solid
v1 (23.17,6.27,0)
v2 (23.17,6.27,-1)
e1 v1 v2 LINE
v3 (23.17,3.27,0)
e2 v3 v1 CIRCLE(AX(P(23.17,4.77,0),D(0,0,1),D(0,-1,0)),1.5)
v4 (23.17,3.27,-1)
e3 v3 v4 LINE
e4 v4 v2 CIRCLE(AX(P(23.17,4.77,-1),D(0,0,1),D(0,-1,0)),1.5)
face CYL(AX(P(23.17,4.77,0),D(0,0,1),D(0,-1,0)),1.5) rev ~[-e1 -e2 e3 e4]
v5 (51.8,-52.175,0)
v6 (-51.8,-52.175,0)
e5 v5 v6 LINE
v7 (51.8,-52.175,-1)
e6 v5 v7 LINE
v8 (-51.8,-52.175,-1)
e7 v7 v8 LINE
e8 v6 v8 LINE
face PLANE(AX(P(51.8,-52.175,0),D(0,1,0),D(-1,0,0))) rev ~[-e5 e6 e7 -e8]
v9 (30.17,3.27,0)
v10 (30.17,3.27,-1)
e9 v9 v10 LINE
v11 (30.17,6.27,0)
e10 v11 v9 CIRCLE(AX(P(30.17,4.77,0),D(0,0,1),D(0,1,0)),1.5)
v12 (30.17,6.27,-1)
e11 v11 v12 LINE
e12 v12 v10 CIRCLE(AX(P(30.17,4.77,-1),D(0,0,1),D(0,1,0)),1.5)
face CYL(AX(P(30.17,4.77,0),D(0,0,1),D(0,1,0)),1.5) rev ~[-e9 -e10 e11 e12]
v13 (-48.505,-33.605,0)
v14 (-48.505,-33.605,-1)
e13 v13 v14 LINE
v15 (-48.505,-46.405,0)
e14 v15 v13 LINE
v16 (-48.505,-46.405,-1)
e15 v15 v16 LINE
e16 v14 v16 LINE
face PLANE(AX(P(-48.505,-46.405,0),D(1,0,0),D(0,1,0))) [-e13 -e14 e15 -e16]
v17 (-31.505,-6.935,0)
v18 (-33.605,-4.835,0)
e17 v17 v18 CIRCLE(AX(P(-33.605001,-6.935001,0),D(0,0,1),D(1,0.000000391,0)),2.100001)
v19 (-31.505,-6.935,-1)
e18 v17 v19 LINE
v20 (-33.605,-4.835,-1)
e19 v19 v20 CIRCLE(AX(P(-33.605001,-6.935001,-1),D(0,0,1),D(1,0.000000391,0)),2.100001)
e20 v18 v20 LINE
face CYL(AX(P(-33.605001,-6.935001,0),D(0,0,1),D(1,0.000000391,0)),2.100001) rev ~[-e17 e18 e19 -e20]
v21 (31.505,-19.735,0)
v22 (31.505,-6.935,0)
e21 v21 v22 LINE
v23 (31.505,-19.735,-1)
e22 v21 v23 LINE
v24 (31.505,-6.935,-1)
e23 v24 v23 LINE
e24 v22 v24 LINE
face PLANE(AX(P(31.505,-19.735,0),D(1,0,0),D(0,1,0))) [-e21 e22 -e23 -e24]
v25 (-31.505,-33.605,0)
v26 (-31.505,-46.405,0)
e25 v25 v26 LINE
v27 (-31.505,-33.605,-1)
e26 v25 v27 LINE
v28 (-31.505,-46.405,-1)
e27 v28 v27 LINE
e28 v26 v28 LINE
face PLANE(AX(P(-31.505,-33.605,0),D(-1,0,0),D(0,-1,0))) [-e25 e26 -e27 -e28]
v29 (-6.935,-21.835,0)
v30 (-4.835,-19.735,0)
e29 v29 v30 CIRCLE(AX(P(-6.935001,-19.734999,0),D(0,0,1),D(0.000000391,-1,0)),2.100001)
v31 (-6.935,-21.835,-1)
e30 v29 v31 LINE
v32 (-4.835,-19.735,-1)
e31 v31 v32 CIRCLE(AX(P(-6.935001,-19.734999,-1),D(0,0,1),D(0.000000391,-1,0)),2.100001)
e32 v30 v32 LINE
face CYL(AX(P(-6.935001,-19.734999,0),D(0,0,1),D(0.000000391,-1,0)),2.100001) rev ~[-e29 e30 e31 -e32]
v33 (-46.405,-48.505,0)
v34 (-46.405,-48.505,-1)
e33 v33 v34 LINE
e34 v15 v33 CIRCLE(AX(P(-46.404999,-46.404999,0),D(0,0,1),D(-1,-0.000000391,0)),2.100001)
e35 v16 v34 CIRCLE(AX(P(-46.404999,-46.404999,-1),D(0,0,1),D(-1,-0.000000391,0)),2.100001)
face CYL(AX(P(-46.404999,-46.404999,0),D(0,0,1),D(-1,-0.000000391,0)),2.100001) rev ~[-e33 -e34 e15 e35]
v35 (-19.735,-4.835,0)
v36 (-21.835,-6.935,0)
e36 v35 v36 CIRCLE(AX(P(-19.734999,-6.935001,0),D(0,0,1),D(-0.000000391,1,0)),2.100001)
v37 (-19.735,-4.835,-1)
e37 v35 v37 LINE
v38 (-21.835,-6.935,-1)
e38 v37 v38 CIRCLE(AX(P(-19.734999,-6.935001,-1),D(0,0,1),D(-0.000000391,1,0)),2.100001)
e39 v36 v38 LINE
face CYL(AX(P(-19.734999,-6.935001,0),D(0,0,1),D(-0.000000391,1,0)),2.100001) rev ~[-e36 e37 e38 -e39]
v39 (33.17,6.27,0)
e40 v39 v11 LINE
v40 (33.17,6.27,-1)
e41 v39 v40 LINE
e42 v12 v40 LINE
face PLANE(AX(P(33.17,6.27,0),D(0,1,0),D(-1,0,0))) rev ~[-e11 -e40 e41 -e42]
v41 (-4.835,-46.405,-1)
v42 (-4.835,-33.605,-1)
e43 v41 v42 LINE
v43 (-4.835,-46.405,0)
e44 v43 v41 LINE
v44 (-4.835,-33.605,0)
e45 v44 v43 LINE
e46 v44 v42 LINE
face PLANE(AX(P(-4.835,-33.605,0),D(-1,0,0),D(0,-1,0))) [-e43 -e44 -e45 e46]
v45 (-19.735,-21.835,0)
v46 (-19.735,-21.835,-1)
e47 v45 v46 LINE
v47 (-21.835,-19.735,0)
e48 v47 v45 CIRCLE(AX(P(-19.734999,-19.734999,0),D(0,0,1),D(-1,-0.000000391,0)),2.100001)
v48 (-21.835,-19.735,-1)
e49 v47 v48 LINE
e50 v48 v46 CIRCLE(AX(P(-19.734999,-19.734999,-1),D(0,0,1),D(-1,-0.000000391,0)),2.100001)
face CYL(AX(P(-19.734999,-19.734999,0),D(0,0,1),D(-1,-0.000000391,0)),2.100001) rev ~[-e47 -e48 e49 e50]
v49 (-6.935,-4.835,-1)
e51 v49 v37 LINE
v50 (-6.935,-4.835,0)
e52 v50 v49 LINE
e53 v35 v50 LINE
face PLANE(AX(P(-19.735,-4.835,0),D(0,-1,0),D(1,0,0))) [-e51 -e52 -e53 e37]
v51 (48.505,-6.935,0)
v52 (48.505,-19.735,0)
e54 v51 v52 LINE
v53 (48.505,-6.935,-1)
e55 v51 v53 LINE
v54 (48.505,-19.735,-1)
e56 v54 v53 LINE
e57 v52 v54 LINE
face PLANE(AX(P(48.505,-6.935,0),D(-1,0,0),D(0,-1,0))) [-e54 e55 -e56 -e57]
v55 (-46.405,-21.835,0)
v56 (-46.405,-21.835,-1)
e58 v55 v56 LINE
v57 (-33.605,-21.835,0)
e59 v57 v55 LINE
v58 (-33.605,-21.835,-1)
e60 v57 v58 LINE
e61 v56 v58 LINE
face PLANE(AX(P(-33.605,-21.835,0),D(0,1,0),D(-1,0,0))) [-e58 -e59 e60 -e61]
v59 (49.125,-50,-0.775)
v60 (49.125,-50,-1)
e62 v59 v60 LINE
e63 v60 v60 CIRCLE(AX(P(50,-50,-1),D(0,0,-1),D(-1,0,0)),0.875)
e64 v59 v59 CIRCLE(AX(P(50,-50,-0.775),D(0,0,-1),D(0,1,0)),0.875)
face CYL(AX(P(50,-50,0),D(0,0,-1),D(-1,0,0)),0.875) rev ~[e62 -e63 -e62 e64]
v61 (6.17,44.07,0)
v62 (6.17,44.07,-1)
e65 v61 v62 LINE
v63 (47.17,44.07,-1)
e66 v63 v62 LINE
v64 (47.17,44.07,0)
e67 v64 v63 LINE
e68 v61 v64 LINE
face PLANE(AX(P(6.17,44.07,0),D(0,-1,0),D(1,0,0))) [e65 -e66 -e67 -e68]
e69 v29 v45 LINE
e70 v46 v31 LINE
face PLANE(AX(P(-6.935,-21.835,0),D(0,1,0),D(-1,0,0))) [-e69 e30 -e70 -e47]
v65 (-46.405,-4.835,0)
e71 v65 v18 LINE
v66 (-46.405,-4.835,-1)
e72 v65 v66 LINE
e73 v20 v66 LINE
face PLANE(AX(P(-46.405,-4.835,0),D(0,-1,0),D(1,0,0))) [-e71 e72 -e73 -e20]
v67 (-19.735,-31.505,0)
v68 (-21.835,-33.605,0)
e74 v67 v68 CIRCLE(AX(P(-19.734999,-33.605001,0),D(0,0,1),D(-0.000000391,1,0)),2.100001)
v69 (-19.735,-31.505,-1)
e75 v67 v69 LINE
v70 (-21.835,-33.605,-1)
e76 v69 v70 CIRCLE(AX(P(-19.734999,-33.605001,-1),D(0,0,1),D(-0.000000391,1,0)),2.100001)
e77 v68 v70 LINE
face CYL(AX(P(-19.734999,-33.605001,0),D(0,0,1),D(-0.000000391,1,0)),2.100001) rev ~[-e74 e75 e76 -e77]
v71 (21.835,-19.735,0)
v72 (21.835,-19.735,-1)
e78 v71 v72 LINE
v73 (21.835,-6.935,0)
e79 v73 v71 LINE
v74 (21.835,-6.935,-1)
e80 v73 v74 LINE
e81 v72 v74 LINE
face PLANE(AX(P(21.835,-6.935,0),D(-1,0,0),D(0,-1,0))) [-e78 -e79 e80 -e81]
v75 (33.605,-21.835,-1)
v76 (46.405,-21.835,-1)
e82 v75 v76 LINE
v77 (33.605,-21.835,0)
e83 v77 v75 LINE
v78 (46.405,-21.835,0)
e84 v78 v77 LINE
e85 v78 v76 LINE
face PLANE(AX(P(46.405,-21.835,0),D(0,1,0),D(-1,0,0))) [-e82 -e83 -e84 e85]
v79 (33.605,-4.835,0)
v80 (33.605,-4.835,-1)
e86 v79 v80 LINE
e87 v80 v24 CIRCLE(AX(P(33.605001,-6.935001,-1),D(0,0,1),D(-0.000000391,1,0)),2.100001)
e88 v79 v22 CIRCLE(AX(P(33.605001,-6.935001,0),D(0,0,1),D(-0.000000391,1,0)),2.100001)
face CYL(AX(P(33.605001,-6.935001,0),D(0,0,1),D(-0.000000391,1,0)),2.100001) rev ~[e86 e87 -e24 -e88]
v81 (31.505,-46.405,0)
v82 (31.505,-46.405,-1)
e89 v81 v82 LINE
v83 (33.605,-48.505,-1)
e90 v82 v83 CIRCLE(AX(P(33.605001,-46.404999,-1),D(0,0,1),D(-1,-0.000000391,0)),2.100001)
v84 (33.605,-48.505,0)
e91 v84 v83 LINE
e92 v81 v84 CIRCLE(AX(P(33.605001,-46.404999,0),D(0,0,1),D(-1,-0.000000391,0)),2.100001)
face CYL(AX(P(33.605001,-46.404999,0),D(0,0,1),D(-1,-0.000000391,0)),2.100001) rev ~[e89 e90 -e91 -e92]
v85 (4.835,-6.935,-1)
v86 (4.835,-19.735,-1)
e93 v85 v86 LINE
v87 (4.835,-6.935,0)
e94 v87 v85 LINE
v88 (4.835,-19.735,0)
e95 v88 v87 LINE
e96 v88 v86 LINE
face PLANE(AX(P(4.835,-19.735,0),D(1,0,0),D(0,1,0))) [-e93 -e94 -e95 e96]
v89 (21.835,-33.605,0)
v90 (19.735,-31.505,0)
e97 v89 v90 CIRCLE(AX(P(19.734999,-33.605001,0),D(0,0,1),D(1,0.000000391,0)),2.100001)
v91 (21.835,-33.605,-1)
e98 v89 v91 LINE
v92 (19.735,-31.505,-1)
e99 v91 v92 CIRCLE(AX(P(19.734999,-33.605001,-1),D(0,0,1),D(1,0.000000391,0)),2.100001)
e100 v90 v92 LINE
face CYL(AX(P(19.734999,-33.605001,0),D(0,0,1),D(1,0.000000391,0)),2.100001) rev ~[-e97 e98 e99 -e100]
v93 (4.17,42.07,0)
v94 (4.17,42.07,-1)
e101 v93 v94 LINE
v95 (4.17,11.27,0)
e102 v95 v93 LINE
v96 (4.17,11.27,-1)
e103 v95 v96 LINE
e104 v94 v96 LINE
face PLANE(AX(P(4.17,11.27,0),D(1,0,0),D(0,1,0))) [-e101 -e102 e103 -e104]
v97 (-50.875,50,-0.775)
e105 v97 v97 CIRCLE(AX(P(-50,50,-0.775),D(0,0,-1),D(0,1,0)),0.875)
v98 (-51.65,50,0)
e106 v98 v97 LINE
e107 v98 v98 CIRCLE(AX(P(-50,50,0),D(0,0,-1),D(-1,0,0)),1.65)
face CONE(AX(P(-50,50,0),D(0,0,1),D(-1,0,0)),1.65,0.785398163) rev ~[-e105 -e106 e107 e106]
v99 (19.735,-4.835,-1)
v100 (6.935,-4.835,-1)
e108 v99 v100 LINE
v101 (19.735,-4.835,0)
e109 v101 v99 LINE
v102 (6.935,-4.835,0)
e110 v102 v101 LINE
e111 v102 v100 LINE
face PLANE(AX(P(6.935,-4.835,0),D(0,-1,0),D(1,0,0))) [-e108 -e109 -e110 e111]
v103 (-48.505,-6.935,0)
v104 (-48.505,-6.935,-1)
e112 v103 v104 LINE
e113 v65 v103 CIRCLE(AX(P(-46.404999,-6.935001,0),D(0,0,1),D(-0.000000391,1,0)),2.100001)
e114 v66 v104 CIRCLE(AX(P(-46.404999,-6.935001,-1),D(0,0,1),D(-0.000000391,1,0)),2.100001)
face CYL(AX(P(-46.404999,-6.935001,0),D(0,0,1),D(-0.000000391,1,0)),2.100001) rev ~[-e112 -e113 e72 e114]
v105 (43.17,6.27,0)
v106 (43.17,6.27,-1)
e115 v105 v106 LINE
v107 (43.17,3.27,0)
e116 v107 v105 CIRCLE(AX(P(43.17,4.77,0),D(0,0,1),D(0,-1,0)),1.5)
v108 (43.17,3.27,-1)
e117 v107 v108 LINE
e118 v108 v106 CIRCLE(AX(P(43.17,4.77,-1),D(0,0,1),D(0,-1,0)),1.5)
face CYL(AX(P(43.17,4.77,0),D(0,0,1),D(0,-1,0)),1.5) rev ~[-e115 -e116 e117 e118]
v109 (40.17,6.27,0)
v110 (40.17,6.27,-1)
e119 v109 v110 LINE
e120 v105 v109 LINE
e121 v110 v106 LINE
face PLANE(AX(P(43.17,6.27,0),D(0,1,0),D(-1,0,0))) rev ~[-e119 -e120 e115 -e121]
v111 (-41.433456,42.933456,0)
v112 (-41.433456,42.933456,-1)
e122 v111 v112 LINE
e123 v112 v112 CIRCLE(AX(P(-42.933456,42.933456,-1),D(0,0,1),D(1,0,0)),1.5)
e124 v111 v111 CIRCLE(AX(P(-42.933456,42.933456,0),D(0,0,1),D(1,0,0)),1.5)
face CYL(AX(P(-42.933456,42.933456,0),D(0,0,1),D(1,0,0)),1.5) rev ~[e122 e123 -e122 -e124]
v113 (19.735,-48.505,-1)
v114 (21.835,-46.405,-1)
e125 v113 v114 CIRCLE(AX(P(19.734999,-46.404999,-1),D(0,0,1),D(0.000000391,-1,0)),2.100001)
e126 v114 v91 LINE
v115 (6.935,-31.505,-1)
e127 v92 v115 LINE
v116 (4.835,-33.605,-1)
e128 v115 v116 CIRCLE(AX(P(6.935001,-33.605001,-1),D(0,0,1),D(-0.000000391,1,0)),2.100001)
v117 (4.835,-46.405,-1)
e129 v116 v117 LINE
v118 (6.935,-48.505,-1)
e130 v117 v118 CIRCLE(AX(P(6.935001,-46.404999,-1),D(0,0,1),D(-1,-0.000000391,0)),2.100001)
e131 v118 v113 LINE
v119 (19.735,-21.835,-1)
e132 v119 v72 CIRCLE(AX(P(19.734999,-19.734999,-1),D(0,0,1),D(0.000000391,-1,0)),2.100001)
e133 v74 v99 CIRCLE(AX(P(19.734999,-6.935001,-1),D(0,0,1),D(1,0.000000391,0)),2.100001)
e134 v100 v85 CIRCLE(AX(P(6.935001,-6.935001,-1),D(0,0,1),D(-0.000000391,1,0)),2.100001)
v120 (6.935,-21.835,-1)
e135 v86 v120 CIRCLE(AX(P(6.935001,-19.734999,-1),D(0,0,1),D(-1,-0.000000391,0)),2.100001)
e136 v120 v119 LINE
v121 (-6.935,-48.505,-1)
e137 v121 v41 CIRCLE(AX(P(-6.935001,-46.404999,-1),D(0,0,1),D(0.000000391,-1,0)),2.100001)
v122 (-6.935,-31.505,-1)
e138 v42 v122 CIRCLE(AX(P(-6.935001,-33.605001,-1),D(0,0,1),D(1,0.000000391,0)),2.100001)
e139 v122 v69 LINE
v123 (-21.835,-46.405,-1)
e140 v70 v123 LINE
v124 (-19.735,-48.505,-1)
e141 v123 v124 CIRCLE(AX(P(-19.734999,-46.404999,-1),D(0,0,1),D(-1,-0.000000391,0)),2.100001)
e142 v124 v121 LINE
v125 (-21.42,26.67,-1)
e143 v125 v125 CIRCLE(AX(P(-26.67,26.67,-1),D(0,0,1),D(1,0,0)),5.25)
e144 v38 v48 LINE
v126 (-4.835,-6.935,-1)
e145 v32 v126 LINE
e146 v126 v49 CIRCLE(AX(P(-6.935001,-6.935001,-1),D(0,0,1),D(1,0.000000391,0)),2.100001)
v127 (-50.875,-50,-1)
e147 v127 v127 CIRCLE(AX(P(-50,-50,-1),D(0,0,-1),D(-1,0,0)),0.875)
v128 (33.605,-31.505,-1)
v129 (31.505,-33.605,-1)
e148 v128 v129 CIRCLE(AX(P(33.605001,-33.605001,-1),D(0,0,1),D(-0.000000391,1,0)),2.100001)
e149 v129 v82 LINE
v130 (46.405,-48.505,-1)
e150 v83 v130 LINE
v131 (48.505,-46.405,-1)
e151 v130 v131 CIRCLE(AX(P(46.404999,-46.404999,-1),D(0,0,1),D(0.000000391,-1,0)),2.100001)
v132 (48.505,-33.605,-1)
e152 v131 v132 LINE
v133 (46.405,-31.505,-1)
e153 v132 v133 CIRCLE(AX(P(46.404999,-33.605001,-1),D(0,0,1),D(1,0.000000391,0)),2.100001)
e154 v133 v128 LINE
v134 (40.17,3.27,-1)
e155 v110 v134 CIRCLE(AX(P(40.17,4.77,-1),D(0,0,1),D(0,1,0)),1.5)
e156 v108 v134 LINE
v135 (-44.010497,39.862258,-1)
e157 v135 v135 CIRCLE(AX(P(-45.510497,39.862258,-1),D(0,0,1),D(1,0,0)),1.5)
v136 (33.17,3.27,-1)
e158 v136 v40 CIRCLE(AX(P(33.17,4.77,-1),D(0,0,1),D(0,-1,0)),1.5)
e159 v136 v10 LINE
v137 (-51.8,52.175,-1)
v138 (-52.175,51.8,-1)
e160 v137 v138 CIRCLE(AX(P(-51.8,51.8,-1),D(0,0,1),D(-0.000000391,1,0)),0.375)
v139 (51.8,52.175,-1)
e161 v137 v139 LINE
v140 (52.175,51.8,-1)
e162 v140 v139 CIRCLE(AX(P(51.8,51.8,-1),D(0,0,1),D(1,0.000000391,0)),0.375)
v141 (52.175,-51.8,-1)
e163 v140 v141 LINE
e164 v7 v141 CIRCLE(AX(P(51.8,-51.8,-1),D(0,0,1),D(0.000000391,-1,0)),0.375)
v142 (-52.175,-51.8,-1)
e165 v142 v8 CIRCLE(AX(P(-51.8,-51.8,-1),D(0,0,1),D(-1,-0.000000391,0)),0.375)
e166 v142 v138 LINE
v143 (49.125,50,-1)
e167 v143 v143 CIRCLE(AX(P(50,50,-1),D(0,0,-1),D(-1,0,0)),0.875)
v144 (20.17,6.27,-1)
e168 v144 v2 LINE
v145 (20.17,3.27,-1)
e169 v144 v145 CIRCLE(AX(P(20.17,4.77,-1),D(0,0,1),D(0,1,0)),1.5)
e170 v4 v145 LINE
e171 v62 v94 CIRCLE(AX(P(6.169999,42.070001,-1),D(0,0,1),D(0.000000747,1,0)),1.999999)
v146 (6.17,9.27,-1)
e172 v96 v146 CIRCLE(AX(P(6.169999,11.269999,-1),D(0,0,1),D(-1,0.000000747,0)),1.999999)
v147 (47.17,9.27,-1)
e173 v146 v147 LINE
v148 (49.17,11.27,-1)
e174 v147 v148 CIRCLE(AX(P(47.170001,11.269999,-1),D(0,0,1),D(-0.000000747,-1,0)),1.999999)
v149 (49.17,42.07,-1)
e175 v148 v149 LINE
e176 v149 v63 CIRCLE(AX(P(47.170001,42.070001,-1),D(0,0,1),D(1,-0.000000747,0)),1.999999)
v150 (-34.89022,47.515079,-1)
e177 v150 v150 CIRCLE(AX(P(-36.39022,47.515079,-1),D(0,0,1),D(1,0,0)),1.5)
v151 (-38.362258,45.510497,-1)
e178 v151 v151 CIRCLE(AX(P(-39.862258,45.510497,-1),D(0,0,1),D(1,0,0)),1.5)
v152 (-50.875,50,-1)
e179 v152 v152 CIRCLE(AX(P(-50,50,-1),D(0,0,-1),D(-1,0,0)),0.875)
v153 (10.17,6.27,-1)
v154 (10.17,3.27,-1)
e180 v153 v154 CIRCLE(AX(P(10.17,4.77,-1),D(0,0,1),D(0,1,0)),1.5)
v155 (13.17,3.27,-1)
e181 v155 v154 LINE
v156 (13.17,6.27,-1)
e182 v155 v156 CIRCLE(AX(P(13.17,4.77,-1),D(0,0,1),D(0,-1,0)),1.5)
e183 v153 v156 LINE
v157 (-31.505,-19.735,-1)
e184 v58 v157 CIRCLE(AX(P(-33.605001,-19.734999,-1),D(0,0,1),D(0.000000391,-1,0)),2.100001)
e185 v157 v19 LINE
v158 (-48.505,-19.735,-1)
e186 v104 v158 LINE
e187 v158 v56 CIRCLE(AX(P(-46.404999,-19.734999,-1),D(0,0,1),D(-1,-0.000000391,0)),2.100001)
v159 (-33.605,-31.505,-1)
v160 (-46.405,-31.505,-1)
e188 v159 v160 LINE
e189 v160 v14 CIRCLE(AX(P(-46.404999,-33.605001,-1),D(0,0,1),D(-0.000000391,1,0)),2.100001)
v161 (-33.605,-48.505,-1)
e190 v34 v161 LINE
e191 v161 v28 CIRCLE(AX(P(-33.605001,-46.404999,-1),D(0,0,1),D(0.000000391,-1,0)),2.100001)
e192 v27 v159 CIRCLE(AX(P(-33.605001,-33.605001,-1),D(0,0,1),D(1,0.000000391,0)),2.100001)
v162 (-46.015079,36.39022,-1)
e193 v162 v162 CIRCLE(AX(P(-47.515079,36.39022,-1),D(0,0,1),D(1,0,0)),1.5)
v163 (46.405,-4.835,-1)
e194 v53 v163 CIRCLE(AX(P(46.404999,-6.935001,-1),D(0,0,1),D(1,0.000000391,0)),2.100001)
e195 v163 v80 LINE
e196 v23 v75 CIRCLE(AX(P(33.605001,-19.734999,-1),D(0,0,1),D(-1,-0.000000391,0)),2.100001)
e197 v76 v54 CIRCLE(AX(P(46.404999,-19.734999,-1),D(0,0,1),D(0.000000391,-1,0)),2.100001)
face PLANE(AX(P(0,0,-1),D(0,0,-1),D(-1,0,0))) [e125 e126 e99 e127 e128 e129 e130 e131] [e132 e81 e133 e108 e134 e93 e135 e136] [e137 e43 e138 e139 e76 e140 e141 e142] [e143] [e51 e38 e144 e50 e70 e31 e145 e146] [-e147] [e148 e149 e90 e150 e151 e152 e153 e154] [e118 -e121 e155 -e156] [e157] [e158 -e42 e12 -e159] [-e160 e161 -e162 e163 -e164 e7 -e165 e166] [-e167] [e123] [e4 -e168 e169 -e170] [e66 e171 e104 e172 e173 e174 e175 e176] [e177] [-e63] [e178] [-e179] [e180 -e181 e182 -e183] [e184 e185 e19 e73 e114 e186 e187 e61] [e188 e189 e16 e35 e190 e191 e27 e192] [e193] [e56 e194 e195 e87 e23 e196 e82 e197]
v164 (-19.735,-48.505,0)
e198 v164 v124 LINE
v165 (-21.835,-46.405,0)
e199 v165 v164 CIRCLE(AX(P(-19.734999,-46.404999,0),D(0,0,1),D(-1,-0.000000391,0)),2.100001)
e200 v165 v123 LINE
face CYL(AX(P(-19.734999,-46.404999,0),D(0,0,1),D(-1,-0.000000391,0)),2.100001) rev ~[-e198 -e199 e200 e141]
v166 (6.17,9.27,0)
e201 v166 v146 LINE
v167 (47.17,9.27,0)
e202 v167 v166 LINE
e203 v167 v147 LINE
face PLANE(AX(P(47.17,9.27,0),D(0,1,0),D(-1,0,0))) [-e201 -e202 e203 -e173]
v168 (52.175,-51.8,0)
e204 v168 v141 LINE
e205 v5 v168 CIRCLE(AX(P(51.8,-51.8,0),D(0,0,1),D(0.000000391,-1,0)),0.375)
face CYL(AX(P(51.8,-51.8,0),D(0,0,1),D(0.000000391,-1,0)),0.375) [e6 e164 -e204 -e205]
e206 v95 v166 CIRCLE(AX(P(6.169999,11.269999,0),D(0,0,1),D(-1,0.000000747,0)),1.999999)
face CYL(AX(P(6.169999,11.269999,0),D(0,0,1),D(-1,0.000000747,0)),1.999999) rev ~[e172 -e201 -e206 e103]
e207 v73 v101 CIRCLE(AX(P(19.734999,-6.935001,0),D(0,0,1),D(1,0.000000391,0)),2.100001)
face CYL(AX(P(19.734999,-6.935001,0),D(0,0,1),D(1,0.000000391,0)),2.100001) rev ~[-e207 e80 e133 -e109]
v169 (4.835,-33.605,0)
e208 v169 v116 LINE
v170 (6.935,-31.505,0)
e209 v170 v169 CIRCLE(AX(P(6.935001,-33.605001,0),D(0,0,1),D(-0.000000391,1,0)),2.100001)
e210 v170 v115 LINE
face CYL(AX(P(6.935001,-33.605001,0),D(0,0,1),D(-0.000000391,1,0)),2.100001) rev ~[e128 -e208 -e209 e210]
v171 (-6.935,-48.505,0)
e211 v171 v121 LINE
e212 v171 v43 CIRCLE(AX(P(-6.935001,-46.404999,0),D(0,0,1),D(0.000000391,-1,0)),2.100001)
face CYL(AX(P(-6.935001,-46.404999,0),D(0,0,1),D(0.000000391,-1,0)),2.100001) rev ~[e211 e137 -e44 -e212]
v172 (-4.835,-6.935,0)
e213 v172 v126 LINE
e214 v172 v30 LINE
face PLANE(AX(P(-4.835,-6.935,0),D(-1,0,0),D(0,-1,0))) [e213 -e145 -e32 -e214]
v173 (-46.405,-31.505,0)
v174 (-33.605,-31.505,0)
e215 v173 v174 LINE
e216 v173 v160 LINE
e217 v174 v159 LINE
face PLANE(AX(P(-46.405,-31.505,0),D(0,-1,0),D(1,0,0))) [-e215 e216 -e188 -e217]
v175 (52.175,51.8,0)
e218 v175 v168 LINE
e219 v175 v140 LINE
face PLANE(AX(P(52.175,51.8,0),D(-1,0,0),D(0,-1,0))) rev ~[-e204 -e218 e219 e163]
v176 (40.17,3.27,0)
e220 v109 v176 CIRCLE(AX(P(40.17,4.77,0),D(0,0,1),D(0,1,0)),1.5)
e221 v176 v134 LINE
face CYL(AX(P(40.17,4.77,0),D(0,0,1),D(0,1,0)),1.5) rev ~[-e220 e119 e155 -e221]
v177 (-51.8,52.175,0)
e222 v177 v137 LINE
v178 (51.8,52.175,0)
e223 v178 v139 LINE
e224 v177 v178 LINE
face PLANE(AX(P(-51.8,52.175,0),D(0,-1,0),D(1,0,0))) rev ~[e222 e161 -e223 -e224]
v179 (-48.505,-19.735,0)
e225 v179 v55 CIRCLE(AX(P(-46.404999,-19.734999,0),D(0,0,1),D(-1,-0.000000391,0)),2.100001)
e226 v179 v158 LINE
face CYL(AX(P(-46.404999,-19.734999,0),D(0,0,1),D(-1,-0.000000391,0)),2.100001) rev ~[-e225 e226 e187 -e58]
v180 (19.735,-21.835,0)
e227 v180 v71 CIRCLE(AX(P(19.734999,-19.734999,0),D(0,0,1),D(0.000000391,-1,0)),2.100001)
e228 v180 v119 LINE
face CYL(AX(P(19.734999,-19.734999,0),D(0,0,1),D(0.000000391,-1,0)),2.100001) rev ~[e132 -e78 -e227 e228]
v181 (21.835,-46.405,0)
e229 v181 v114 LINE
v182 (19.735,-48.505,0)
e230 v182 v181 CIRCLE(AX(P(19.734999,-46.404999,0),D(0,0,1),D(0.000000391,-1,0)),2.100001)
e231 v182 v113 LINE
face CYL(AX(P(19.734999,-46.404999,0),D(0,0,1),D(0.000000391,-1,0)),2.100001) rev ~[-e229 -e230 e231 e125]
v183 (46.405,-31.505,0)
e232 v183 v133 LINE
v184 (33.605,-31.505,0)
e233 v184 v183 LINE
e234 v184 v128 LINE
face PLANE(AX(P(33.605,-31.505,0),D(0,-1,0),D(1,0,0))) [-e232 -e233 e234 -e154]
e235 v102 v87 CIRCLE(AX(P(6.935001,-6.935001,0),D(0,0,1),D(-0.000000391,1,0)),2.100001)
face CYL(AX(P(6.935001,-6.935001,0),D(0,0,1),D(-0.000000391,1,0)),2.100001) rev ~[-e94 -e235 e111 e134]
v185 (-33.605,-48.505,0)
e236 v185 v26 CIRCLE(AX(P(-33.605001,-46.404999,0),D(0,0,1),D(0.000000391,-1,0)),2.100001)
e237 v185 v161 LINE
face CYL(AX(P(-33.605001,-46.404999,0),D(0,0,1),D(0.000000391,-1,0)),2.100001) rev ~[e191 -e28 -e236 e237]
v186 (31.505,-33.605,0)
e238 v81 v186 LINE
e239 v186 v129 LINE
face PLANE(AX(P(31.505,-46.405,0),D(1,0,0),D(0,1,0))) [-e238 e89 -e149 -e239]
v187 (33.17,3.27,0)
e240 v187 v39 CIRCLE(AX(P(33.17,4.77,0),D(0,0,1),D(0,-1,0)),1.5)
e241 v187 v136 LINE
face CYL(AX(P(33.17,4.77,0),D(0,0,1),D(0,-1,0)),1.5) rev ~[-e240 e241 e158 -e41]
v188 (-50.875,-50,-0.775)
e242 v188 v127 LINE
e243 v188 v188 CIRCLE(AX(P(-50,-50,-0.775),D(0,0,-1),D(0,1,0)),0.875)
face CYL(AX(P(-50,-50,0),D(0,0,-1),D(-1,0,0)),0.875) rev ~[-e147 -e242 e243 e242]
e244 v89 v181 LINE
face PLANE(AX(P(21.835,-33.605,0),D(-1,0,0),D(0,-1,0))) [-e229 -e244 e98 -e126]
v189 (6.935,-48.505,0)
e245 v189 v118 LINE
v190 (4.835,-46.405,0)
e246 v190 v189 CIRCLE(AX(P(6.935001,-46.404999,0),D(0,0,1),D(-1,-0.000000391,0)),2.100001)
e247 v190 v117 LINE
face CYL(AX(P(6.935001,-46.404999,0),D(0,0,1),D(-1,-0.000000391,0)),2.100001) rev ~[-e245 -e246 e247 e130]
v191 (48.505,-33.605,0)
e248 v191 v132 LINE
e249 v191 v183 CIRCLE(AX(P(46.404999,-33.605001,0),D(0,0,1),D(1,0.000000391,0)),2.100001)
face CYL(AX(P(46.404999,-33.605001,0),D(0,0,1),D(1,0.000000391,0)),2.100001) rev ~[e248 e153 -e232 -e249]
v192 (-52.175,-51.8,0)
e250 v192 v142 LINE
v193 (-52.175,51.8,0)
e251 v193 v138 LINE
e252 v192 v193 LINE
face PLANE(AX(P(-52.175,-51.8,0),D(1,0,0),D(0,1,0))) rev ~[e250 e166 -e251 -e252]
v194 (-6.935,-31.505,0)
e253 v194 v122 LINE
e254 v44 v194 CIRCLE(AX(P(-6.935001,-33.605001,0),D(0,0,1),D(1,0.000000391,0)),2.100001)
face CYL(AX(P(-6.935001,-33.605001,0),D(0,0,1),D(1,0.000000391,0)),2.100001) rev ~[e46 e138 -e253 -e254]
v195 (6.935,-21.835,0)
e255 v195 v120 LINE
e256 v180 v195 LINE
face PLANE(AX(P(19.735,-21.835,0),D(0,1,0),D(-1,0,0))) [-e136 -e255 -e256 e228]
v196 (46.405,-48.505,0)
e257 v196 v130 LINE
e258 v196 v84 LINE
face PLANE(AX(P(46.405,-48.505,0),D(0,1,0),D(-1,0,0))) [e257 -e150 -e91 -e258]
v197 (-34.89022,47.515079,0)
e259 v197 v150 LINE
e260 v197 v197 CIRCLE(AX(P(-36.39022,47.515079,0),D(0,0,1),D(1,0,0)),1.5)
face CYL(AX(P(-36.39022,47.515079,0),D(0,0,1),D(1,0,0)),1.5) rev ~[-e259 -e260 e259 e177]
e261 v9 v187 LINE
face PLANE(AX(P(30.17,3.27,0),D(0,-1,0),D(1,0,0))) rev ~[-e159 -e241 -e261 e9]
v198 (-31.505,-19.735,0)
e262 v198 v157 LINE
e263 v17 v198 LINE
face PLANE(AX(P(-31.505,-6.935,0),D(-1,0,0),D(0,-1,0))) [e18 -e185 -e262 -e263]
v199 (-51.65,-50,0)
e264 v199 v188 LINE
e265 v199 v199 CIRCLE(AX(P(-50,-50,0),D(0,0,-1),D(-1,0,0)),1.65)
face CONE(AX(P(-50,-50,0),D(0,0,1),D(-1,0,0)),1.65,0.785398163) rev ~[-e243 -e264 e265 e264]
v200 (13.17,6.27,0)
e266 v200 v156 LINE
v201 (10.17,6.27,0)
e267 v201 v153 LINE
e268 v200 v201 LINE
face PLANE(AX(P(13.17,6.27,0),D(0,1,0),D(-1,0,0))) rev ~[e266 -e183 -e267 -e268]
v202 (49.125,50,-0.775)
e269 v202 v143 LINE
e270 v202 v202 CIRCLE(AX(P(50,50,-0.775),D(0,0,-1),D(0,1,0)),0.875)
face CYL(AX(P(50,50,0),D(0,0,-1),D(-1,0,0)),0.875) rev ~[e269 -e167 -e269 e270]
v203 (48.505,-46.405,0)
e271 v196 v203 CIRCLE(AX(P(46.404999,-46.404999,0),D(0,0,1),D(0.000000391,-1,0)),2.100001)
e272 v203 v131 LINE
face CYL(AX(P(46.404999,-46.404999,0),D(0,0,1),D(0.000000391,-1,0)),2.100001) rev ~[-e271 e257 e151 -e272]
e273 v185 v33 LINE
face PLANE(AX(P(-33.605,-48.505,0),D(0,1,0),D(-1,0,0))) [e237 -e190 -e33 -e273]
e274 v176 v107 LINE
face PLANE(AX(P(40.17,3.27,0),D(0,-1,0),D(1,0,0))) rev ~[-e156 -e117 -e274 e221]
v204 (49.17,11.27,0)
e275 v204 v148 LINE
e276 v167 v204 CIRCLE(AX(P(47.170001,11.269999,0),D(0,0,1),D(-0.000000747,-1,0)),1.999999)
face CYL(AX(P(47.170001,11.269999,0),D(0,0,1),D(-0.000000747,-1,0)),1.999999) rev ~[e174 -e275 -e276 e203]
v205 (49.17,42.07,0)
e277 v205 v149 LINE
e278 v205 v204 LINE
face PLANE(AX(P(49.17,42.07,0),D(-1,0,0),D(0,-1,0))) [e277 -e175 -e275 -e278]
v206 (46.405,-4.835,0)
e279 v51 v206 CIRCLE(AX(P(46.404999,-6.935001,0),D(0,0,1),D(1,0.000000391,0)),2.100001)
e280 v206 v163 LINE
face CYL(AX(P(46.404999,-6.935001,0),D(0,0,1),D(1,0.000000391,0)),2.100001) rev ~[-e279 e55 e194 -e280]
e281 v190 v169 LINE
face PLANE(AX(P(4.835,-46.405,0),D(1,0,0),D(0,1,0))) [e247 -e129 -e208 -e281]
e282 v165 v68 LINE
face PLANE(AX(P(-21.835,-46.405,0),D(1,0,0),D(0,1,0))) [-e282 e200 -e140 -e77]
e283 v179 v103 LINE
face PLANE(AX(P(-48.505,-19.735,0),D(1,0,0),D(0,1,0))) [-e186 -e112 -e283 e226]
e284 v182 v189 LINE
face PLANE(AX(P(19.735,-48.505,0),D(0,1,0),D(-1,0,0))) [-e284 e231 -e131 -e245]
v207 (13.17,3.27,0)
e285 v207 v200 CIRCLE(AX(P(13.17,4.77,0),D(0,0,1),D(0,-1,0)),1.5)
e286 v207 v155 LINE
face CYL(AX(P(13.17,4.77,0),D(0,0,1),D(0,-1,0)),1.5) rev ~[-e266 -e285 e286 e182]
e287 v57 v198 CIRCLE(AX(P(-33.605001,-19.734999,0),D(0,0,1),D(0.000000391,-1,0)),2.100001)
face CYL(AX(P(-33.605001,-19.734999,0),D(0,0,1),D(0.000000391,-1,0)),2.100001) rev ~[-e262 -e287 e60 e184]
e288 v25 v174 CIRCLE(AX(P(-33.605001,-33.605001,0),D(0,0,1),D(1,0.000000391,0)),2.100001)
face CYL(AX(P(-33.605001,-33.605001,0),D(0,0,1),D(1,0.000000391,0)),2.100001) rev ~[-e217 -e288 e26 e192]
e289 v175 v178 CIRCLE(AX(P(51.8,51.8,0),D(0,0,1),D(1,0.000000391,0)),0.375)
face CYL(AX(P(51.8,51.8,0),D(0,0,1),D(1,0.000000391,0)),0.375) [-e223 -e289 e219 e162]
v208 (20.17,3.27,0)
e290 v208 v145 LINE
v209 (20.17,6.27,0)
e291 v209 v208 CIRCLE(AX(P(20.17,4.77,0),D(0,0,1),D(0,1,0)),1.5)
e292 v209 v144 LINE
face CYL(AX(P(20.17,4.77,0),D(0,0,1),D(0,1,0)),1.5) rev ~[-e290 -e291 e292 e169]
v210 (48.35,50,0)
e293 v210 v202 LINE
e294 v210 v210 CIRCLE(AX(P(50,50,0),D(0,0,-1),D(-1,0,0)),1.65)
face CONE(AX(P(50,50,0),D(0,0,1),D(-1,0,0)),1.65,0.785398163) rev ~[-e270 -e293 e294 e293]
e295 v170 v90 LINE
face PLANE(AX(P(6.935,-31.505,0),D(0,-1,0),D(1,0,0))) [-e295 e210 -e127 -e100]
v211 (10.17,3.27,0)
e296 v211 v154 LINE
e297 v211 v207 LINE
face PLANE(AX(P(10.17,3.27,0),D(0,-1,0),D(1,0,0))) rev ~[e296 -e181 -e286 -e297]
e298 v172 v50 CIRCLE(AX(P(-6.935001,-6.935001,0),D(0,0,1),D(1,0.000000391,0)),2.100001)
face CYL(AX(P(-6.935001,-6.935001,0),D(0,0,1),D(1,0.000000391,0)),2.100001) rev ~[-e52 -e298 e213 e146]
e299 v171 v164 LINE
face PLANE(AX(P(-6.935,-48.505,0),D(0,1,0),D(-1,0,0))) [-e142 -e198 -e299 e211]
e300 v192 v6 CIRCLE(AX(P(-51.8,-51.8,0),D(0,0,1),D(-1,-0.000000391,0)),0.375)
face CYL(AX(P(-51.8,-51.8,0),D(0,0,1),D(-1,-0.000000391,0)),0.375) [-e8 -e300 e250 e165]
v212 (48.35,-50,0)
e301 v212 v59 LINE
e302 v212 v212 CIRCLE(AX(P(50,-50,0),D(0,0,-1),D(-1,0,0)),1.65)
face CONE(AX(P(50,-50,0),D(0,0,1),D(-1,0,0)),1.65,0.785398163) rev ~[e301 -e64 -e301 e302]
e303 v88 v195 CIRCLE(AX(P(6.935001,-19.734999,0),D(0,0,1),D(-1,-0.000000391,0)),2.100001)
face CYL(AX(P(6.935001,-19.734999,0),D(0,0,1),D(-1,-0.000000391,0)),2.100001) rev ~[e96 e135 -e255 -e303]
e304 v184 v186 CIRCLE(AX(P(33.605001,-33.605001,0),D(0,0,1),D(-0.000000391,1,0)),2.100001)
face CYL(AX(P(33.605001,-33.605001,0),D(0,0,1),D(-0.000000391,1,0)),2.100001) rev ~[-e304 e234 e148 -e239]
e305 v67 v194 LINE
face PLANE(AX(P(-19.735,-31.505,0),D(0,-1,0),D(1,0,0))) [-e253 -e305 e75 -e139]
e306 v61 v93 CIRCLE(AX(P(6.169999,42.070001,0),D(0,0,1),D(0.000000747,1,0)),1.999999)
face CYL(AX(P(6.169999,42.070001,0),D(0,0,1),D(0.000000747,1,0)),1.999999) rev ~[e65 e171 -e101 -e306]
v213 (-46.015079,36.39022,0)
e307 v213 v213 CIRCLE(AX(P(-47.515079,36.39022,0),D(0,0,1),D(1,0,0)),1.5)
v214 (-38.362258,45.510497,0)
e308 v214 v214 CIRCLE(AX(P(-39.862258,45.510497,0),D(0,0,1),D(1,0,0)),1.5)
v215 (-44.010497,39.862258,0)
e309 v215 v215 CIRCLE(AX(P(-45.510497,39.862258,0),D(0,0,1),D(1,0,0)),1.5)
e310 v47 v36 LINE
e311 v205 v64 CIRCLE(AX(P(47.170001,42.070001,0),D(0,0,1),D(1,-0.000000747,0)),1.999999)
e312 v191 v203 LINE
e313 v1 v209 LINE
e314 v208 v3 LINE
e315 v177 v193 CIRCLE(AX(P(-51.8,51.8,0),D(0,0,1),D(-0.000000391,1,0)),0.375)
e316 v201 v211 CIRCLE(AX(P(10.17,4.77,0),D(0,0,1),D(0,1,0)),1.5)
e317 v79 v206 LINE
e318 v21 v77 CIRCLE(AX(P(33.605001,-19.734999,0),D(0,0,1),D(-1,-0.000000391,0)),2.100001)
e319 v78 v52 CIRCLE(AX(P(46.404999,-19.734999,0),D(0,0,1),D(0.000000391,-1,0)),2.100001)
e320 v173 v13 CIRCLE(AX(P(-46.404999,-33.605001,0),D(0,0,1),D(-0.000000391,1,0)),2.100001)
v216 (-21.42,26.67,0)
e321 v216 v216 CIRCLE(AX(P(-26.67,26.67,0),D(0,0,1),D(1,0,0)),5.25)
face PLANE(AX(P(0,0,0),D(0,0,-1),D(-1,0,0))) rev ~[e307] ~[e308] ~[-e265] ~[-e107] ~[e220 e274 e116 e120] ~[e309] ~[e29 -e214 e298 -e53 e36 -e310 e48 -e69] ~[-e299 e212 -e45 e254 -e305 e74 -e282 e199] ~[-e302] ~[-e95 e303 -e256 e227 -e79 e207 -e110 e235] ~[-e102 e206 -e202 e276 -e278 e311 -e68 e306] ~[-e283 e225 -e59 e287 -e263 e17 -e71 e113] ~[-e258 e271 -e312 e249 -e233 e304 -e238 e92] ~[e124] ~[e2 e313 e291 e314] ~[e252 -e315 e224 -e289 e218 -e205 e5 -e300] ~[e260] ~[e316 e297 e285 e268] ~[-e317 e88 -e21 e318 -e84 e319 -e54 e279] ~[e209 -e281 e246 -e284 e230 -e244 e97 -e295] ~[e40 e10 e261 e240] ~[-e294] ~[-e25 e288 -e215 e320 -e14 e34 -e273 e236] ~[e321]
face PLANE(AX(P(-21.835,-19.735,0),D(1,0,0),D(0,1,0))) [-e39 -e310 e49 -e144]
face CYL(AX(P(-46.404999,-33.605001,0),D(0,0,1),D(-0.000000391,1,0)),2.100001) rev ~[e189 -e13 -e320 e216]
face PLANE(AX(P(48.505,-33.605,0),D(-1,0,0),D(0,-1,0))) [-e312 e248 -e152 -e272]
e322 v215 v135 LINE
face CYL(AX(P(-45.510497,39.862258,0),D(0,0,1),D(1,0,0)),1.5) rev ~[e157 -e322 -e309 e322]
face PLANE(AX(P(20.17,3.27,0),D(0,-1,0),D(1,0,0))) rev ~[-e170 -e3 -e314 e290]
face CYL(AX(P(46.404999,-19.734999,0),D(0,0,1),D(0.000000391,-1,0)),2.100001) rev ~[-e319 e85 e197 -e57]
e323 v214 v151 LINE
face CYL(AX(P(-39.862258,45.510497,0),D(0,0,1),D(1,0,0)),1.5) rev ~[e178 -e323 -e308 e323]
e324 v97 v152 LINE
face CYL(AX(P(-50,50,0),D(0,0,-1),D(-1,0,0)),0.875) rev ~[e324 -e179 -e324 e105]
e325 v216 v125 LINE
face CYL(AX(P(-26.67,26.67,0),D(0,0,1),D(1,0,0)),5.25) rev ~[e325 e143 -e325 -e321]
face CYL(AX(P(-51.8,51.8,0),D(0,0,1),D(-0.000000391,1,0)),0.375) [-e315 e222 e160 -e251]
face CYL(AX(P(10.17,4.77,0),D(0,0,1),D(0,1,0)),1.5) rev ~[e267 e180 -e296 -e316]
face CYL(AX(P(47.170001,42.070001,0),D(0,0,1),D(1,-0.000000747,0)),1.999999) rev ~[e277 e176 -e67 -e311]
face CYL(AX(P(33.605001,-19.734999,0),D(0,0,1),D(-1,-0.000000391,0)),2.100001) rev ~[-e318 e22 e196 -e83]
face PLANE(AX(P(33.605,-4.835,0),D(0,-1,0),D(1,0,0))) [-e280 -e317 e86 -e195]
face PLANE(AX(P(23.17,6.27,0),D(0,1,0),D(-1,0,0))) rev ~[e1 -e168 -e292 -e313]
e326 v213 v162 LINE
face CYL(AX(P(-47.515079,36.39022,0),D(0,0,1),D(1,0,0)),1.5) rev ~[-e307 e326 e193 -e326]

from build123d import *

# Parameters (mm, degrees)
PAD_DEPTH        = 1
POCKET_DEPTH     = 0.001
HOLE_D           = 1.75
HOLE_CSINK_D     = 3.3
HOLE_CSINK_ANGLE = 90
SKETCH025_R      = 5.25
SKETCH025_R_2    = 1.5
POCKET007_DEPTH  = 5
POCKET008_DEPTH  = 1.001
POCKET010_DEPTH  = 5
POCKET011_DEPTH  = 1.001


with BuildPart() as part:
    # Sketch → Pad (new body)
    with BuildSketch(Plane.XY):
        with BuildLine():
            Line((-51.8, 52.175), (51.8, 52.175))
            ThreePointArc((52.175, 51.8), (52.065165, 52.065165), (51.8, 52.175))
            Line((52.175, 51.8), (52.175, -51.8))
            ThreePointArc((51.8, -52.175), (52.065165, -52.065165), (52.175, -51.8))
            Line((51.8, -52.175), (-51.8, -52.175))
            ThreePointArc((-52.175, -51.8), (-52.065165, -52.065165), (-51.8, -52.175))
            Line((-52.175, -51.8), (-52.175, 51.8))
            ThreePointArc((-51.8, 52.175), (-52.065165, 52.065165), (-52.175, 51.8))
        make_face()
    extrude(amount=-PAD_DEPTH)

    # Sketch002 → Pocket (cut, through all)
    with BuildSketch(Plane.XY.offset(-4.8)):
        with BuildLine():
            Line((-45, 50.175), (45, 50.175))
            ThreePointArc((45, 50.175), (45.353553, 50.321447), (45.5, 50.675))
            ThreePointArc((45.5, 50.675), (45.353553, 51.028553), (45, 51.175))
            Line((-45, 51.175), (45, 51.175))
            ThreePointArc((-45, 51.175), (-45.353553, 51.028553), (-45.5, 50.675))
            ThreePointArc((-45.5, 50.675), (-45.353553, 50.321447), (-45, 50.175))
        make_face()
        with BuildLine():
            Line((-45, -51.175), (45, -51.175))
            ThreePointArc((45, -51.175), (45.353553, -51.028553), (45.5, -50.675))
            ThreePointArc((45.5, -50.675), (45.353553, -50.321447), (45, -50.175))
            Line((-45, -50.175), (45, -50.175))
            ThreePointArc((-45, -50.175), (-45.353553, -50.321447), (-45.5, -50.675))
            ThreePointArc((-45.5, -50.675), (-45.353553, -51.028553), (-45, -51.175))
        make_face()
        with BuildLine():
            Line((51.175, -45), (51.175, 45))
            ThreePointArc((51.175, 45), (51.028553, 45.353553), (50.675, 45.5))
            ThreePointArc((50.675, 45.5), (50.321447, 45.353553), (50.175, 45))
            Line((50.175, -45), (50.175, 45))
            ThreePointArc((50.175, -45), (50.321447, -45.353553), (50.675, -45.5))
            ThreePointArc((50.675, -45.5), (51.028553, -45.353553), (51.175, -45))
        make_face()
        with BuildLine():
            Line((-50.175, -45), (-50.175, 45))
            ThreePointArc((-50.175, 45), (-50.321447, 45.353553), (-50.675, 45.5))
            ThreePointArc((-50.675, 45.5), (-51.028553, 45.353553), (-51.175, 45))
            Line((-51.175, -45), (-51.175, 45))
            ThreePointArc((-51.175, -45), (-51.028553, -45.353553), (-50.675, -45.5))
            ThreePointArc((-50.675, -45.5), (-50.321447, -45.353553), (-50.175, -45))
        make_face()
    extrude(amount=-POCKET_DEPTH, mode=Mode.SUBTRACT)

    # Hole (through all)
    with Locations(Plane.XY):
        with Locations((-50, 50), (50, 50), (50, -50), (-50, -50)):
            CounterSinkHole(HOLE_D / 2, HOLE_CSINK_D / 2, counter_sink_angle=HOLE_CSINK_ANGLE)

    # Sketch025 → Pocket007 (cut)
    with BuildSketch(Plane.XY):
        with Locations((-26.67, 26.67)):
            Circle(SKETCH025_R)
        with Locations((-47.515079, 36.39022)):
            Circle(SKETCH025_R_2)
        with Locations((-45.510497, 39.862258)):
            Circle(SKETCH025_R_2)
        with Locations((-42.933456, 42.933456)):
            Circle(SKETCH025_R_2)
        with Locations((-39.862258, 45.510497)):
            Circle(SKETCH025_R_2)
        with Locations((-36.39022, 47.515079)):
            Circle(SKETCH025_R_2)
    extrude(amount=-POCKET007_DEPTH, mode=Mode.SUBTRACT)

    # Sketch027 → Pocket008 (cut, through all)
    with BuildSketch(Plane.XY):
        with BuildLine():
            Line((4.17, 11.27), (4.17, 42.07))
            ThreePointArc((6.17, 44.07), (4.755786, 43.484214), (4.17, 42.07))
            Line((6.17, 44.07), (47.17, 44.07))
            ThreePointArc((49.17, 42.07), (48.584214, 43.484214), (47.17, 44.07))
            Line((49.17, 42.07), (49.17, 11.27))
            ThreePointArc((47.17, 9.27), (48.584214, 9.855786), (49.17, 11.27))
            Line((47.17, 9.27), (6.17, 9.27))
            ThreePointArc((4.17, 11.27), (4.755786, 9.855786), (6.17, 9.27))
        make_face()
    extrude(amount=-POCKET008_DEPTH, mode=Mode.SUBTRACT)

    # Sketch029 → Pocket010 (cut)
    with BuildSketch(Plane.XY):
        with BuildLine():
            ThreePointArc((20.17, 6.27), (18.67, 4.77), (20.17, 3.27))
            Line((20.17, 3.27), (23.17, 3.27))
            ThreePointArc((23.17, 3.27), (24.67, 4.77), (23.17, 6.27))
            Line((23.17, 6.27), (20.17, 6.27))
        make_face()
        with BuildLine():
            ThreePointArc((30.17, 6.27), (28.67, 4.77), (30.17, 3.27))
            Line((30.17, 3.27), (33.17, 3.27))
            ThreePointArc((33.17, 3.27), (34.67, 4.77), (33.17, 6.27))
            Line((33.17, 6.27), (30.17, 6.27))
        make_face()
        with BuildLine():
            ThreePointArc((40.17, 6.27), (38.67, 4.77), (40.17, 3.27))
            Line((40.17, 3.27), (43.17, 3.27))
            ThreePointArc((43.17, 3.27), (44.67, 4.77), (43.17, 6.27))
            Line((43.17, 6.27), (40.17, 6.27))
        make_face()
        with BuildLine():
            ThreePointArc((10.17, 6.27), (8.67, 4.77), (10.17, 3.27))
            Line((10.17, 3.27), (13.17, 3.27))
            ThreePointArc((13.17, 3.27), (14.67, 4.77), (13.17, 6.27))
            Line((13.17, 6.27), (10.17, 6.27))
        make_face()
    extrude(amount=-POCKET010_DEPTH, mode=Mode.SUBTRACT)

    # Sketch030 → Pocket011 (cut, through all)
    with BuildSketch(Plane.XY):
        with BuildLine():
            Line((-48.505, -19.735), (-48.505, -6.935))
            ThreePointArc((-46.405, -4.835), (-47.889924, -5.450076), (-48.505, -6.935))
            Line((-46.405, -4.835), (-33.605, -4.835))
            ThreePointArc((-31.505, -6.935), (-32.120076, -5.450076), (-33.605, -4.835))
            Line((-31.505, -6.935), (-31.505, -19.735))
            ThreePointArc((-33.605, -21.835), (-32.120076, -21.219924), (-31.505, -19.735))
            Line((-33.605, -21.835), (-46.405, -21.835))
            ThreePointArc((-48.505, -19.735), (-47.889924, -21.219924), (-46.405, -21.835))
        make_face()
        with BuildLine():
            Line((-21.835, -19.735), (-21.835, -6.935))
            ThreePointArc((-19.735, -4.835), (-21.219924, -5.450076), (-21.835, -6.935))
            Line((-19.735, -4.835), (-6.935, -4.835))
            ThreePointArc((-4.835, -6.935), (-5.450076, -5.450076), (-6.935, -4.835))
            Line((-4.835, -6.935), (-4.835, -19.735))
            ThreePointArc((-6.935, -21.835), (-5.450076, -21.219924), (-4.835, -19.735))
            Line((-6.935, -21.835), (-19.735, -21.835))
            ThreePointArc((-21.835, -19.735), (-21.219924, -21.219924), (-19.735, -21.835))
        make_face()
        with BuildLine():
            Line((4.835, -19.735), (4.835, -6.935))
            ThreePointArc((6.935, -4.835), (5.450076, -5.450076), (4.835, -6.935))
            Line((6.935, -4.835), (19.735, -4.835))
            ThreePointArc((21.835, -6.935), (21.219924, -5.450076), (19.735, -4.835))
            Line((21.835, -6.935), (21.835, -19.735))
            ThreePointArc((19.735, -21.835), (21.219924, -21.219924), (21.835, -19.735))
            Line((19.735, -21.835), (6.935, -21.835))
            ThreePointArc((4.835, -19.735), (5.450076, -21.219924), (6.935, -21.835))
        make_face()
        with BuildLine():
            Line((31.505, -19.735), (31.505, -6.935))
            ThreePointArc((33.605, -4.835), (32.120076, -5.450076), (31.505, -6.935))
            Line((33.605, -4.835), (46.405, -4.835))
            ThreePointArc((48.505, -6.935), (47.889924, -5.450076), (46.405, -4.835))
            Line((48.505, -6.935), (48.505, -19.735))
            ThreePointArc((46.405, -21.835), (47.889924, -21.219924), (48.505, -19.735))
            Line((46.405, -21.835), (33.605, -21.835))
            ThreePointArc((31.505, -19.735), (32.120076, -21.219924), (33.605, -21.835))
        make_face()
        with BuildLine():
            Line((31.505, -46.405), (31.505, -33.605))
            ThreePointArc((33.605, -31.505), (32.120076, -32.120076), (31.505, -33.605))
            Line((33.605, -31.505), (46.405, -31.505))
            ThreePointArc((48.505, -33.605), (47.889924, -32.120076), (46.405, -31.505))
            Line((48.505, -33.605), (48.505, -46.405))
            ThreePointArc((46.405, -48.505), (47.889924, -47.889924), (48.505, -46.405))
            Line((46.405, -48.505), (33.605, -48.505))
            ThreePointArc((31.505, -46.405), (32.120076, -47.889924), (33.605, -48.505))
        make_face()
        with BuildLine():
            Line((4.835, -46.405), (4.835, -33.605))
            ThreePointArc((6.935, -31.505), (5.450076, -32.120076), (4.835, -33.605))
            Line((6.935, -31.505), (19.735, -31.505))
            ThreePointArc((21.835, -33.605), (21.219924, -32.120076), (19.735, -31.505))
            Line((21.835, -33.605), (21.835, -46.405))
            ThreePointArc((19.735, -48.505), (21.219924, -47.889924), (21.835, -46.405))
            Line((19.735, -48.505), (6.935, -48.505))
            ThreePointArc((4.835, -46.405), (5.450076, -47.889924), (6.935, -48.505))
        make_face()
        with BuildLine():
            Line((-21.835, -46.405), (-21.835, -33.605))
            ThreePointArc((-19.735, -31.505), (-21.219924, -32.120076), (-21.835, -33.605))
            Line((-19.735, -31.505), (-6.935, -31.505))
            ThreePointArc((-4.835, -33.605), (-5.450076, -32.120076), (-6.935, -31.505))
            Line((-4.835, -33.605), (-4.835, -46.405))
            ThreePointArc((-6.935, -48.505), (-5.450076, -47.889924), (-4.835, -46.405))
            Line((-6.935, -48.505), (-19.735, -48.505))
            ThreePointArc((-21.835, -46.405), (-21.219924, -47.889924), (-19.735, -48.505))
        make_face()
        with BuildLine():
            Line((-48.505, -46.405), (-48.505, -33.605))
            ThreePointArc((-46.405, -31.505), (-47.889924, -32.120076), (-48.505, -33.605))
            Line((-46.405, -31.505), (-33.605, -31.505))
            ThreePointArc((-31.505, -33.605), (-32.120076, -32.120076), (-33.605, -31.505))
            Line((-31.505, -33.605), (-31.505, -46.405))
            ThreePointArc((-33.605, -48.505), (-32.120076, -47.889924), (-31.505, -46.405))
            Line((-33.605, -48.505), (-46.405, -48.505))
            ThreePointArc((-48.505, -46.405), (-47.889924, -47.889924), (-46.405, -48.505))
        make_face()
    extrude(amount=-POCKET011_DEPTH, mode=Mode.SUBTRACT)


solid = part.part
